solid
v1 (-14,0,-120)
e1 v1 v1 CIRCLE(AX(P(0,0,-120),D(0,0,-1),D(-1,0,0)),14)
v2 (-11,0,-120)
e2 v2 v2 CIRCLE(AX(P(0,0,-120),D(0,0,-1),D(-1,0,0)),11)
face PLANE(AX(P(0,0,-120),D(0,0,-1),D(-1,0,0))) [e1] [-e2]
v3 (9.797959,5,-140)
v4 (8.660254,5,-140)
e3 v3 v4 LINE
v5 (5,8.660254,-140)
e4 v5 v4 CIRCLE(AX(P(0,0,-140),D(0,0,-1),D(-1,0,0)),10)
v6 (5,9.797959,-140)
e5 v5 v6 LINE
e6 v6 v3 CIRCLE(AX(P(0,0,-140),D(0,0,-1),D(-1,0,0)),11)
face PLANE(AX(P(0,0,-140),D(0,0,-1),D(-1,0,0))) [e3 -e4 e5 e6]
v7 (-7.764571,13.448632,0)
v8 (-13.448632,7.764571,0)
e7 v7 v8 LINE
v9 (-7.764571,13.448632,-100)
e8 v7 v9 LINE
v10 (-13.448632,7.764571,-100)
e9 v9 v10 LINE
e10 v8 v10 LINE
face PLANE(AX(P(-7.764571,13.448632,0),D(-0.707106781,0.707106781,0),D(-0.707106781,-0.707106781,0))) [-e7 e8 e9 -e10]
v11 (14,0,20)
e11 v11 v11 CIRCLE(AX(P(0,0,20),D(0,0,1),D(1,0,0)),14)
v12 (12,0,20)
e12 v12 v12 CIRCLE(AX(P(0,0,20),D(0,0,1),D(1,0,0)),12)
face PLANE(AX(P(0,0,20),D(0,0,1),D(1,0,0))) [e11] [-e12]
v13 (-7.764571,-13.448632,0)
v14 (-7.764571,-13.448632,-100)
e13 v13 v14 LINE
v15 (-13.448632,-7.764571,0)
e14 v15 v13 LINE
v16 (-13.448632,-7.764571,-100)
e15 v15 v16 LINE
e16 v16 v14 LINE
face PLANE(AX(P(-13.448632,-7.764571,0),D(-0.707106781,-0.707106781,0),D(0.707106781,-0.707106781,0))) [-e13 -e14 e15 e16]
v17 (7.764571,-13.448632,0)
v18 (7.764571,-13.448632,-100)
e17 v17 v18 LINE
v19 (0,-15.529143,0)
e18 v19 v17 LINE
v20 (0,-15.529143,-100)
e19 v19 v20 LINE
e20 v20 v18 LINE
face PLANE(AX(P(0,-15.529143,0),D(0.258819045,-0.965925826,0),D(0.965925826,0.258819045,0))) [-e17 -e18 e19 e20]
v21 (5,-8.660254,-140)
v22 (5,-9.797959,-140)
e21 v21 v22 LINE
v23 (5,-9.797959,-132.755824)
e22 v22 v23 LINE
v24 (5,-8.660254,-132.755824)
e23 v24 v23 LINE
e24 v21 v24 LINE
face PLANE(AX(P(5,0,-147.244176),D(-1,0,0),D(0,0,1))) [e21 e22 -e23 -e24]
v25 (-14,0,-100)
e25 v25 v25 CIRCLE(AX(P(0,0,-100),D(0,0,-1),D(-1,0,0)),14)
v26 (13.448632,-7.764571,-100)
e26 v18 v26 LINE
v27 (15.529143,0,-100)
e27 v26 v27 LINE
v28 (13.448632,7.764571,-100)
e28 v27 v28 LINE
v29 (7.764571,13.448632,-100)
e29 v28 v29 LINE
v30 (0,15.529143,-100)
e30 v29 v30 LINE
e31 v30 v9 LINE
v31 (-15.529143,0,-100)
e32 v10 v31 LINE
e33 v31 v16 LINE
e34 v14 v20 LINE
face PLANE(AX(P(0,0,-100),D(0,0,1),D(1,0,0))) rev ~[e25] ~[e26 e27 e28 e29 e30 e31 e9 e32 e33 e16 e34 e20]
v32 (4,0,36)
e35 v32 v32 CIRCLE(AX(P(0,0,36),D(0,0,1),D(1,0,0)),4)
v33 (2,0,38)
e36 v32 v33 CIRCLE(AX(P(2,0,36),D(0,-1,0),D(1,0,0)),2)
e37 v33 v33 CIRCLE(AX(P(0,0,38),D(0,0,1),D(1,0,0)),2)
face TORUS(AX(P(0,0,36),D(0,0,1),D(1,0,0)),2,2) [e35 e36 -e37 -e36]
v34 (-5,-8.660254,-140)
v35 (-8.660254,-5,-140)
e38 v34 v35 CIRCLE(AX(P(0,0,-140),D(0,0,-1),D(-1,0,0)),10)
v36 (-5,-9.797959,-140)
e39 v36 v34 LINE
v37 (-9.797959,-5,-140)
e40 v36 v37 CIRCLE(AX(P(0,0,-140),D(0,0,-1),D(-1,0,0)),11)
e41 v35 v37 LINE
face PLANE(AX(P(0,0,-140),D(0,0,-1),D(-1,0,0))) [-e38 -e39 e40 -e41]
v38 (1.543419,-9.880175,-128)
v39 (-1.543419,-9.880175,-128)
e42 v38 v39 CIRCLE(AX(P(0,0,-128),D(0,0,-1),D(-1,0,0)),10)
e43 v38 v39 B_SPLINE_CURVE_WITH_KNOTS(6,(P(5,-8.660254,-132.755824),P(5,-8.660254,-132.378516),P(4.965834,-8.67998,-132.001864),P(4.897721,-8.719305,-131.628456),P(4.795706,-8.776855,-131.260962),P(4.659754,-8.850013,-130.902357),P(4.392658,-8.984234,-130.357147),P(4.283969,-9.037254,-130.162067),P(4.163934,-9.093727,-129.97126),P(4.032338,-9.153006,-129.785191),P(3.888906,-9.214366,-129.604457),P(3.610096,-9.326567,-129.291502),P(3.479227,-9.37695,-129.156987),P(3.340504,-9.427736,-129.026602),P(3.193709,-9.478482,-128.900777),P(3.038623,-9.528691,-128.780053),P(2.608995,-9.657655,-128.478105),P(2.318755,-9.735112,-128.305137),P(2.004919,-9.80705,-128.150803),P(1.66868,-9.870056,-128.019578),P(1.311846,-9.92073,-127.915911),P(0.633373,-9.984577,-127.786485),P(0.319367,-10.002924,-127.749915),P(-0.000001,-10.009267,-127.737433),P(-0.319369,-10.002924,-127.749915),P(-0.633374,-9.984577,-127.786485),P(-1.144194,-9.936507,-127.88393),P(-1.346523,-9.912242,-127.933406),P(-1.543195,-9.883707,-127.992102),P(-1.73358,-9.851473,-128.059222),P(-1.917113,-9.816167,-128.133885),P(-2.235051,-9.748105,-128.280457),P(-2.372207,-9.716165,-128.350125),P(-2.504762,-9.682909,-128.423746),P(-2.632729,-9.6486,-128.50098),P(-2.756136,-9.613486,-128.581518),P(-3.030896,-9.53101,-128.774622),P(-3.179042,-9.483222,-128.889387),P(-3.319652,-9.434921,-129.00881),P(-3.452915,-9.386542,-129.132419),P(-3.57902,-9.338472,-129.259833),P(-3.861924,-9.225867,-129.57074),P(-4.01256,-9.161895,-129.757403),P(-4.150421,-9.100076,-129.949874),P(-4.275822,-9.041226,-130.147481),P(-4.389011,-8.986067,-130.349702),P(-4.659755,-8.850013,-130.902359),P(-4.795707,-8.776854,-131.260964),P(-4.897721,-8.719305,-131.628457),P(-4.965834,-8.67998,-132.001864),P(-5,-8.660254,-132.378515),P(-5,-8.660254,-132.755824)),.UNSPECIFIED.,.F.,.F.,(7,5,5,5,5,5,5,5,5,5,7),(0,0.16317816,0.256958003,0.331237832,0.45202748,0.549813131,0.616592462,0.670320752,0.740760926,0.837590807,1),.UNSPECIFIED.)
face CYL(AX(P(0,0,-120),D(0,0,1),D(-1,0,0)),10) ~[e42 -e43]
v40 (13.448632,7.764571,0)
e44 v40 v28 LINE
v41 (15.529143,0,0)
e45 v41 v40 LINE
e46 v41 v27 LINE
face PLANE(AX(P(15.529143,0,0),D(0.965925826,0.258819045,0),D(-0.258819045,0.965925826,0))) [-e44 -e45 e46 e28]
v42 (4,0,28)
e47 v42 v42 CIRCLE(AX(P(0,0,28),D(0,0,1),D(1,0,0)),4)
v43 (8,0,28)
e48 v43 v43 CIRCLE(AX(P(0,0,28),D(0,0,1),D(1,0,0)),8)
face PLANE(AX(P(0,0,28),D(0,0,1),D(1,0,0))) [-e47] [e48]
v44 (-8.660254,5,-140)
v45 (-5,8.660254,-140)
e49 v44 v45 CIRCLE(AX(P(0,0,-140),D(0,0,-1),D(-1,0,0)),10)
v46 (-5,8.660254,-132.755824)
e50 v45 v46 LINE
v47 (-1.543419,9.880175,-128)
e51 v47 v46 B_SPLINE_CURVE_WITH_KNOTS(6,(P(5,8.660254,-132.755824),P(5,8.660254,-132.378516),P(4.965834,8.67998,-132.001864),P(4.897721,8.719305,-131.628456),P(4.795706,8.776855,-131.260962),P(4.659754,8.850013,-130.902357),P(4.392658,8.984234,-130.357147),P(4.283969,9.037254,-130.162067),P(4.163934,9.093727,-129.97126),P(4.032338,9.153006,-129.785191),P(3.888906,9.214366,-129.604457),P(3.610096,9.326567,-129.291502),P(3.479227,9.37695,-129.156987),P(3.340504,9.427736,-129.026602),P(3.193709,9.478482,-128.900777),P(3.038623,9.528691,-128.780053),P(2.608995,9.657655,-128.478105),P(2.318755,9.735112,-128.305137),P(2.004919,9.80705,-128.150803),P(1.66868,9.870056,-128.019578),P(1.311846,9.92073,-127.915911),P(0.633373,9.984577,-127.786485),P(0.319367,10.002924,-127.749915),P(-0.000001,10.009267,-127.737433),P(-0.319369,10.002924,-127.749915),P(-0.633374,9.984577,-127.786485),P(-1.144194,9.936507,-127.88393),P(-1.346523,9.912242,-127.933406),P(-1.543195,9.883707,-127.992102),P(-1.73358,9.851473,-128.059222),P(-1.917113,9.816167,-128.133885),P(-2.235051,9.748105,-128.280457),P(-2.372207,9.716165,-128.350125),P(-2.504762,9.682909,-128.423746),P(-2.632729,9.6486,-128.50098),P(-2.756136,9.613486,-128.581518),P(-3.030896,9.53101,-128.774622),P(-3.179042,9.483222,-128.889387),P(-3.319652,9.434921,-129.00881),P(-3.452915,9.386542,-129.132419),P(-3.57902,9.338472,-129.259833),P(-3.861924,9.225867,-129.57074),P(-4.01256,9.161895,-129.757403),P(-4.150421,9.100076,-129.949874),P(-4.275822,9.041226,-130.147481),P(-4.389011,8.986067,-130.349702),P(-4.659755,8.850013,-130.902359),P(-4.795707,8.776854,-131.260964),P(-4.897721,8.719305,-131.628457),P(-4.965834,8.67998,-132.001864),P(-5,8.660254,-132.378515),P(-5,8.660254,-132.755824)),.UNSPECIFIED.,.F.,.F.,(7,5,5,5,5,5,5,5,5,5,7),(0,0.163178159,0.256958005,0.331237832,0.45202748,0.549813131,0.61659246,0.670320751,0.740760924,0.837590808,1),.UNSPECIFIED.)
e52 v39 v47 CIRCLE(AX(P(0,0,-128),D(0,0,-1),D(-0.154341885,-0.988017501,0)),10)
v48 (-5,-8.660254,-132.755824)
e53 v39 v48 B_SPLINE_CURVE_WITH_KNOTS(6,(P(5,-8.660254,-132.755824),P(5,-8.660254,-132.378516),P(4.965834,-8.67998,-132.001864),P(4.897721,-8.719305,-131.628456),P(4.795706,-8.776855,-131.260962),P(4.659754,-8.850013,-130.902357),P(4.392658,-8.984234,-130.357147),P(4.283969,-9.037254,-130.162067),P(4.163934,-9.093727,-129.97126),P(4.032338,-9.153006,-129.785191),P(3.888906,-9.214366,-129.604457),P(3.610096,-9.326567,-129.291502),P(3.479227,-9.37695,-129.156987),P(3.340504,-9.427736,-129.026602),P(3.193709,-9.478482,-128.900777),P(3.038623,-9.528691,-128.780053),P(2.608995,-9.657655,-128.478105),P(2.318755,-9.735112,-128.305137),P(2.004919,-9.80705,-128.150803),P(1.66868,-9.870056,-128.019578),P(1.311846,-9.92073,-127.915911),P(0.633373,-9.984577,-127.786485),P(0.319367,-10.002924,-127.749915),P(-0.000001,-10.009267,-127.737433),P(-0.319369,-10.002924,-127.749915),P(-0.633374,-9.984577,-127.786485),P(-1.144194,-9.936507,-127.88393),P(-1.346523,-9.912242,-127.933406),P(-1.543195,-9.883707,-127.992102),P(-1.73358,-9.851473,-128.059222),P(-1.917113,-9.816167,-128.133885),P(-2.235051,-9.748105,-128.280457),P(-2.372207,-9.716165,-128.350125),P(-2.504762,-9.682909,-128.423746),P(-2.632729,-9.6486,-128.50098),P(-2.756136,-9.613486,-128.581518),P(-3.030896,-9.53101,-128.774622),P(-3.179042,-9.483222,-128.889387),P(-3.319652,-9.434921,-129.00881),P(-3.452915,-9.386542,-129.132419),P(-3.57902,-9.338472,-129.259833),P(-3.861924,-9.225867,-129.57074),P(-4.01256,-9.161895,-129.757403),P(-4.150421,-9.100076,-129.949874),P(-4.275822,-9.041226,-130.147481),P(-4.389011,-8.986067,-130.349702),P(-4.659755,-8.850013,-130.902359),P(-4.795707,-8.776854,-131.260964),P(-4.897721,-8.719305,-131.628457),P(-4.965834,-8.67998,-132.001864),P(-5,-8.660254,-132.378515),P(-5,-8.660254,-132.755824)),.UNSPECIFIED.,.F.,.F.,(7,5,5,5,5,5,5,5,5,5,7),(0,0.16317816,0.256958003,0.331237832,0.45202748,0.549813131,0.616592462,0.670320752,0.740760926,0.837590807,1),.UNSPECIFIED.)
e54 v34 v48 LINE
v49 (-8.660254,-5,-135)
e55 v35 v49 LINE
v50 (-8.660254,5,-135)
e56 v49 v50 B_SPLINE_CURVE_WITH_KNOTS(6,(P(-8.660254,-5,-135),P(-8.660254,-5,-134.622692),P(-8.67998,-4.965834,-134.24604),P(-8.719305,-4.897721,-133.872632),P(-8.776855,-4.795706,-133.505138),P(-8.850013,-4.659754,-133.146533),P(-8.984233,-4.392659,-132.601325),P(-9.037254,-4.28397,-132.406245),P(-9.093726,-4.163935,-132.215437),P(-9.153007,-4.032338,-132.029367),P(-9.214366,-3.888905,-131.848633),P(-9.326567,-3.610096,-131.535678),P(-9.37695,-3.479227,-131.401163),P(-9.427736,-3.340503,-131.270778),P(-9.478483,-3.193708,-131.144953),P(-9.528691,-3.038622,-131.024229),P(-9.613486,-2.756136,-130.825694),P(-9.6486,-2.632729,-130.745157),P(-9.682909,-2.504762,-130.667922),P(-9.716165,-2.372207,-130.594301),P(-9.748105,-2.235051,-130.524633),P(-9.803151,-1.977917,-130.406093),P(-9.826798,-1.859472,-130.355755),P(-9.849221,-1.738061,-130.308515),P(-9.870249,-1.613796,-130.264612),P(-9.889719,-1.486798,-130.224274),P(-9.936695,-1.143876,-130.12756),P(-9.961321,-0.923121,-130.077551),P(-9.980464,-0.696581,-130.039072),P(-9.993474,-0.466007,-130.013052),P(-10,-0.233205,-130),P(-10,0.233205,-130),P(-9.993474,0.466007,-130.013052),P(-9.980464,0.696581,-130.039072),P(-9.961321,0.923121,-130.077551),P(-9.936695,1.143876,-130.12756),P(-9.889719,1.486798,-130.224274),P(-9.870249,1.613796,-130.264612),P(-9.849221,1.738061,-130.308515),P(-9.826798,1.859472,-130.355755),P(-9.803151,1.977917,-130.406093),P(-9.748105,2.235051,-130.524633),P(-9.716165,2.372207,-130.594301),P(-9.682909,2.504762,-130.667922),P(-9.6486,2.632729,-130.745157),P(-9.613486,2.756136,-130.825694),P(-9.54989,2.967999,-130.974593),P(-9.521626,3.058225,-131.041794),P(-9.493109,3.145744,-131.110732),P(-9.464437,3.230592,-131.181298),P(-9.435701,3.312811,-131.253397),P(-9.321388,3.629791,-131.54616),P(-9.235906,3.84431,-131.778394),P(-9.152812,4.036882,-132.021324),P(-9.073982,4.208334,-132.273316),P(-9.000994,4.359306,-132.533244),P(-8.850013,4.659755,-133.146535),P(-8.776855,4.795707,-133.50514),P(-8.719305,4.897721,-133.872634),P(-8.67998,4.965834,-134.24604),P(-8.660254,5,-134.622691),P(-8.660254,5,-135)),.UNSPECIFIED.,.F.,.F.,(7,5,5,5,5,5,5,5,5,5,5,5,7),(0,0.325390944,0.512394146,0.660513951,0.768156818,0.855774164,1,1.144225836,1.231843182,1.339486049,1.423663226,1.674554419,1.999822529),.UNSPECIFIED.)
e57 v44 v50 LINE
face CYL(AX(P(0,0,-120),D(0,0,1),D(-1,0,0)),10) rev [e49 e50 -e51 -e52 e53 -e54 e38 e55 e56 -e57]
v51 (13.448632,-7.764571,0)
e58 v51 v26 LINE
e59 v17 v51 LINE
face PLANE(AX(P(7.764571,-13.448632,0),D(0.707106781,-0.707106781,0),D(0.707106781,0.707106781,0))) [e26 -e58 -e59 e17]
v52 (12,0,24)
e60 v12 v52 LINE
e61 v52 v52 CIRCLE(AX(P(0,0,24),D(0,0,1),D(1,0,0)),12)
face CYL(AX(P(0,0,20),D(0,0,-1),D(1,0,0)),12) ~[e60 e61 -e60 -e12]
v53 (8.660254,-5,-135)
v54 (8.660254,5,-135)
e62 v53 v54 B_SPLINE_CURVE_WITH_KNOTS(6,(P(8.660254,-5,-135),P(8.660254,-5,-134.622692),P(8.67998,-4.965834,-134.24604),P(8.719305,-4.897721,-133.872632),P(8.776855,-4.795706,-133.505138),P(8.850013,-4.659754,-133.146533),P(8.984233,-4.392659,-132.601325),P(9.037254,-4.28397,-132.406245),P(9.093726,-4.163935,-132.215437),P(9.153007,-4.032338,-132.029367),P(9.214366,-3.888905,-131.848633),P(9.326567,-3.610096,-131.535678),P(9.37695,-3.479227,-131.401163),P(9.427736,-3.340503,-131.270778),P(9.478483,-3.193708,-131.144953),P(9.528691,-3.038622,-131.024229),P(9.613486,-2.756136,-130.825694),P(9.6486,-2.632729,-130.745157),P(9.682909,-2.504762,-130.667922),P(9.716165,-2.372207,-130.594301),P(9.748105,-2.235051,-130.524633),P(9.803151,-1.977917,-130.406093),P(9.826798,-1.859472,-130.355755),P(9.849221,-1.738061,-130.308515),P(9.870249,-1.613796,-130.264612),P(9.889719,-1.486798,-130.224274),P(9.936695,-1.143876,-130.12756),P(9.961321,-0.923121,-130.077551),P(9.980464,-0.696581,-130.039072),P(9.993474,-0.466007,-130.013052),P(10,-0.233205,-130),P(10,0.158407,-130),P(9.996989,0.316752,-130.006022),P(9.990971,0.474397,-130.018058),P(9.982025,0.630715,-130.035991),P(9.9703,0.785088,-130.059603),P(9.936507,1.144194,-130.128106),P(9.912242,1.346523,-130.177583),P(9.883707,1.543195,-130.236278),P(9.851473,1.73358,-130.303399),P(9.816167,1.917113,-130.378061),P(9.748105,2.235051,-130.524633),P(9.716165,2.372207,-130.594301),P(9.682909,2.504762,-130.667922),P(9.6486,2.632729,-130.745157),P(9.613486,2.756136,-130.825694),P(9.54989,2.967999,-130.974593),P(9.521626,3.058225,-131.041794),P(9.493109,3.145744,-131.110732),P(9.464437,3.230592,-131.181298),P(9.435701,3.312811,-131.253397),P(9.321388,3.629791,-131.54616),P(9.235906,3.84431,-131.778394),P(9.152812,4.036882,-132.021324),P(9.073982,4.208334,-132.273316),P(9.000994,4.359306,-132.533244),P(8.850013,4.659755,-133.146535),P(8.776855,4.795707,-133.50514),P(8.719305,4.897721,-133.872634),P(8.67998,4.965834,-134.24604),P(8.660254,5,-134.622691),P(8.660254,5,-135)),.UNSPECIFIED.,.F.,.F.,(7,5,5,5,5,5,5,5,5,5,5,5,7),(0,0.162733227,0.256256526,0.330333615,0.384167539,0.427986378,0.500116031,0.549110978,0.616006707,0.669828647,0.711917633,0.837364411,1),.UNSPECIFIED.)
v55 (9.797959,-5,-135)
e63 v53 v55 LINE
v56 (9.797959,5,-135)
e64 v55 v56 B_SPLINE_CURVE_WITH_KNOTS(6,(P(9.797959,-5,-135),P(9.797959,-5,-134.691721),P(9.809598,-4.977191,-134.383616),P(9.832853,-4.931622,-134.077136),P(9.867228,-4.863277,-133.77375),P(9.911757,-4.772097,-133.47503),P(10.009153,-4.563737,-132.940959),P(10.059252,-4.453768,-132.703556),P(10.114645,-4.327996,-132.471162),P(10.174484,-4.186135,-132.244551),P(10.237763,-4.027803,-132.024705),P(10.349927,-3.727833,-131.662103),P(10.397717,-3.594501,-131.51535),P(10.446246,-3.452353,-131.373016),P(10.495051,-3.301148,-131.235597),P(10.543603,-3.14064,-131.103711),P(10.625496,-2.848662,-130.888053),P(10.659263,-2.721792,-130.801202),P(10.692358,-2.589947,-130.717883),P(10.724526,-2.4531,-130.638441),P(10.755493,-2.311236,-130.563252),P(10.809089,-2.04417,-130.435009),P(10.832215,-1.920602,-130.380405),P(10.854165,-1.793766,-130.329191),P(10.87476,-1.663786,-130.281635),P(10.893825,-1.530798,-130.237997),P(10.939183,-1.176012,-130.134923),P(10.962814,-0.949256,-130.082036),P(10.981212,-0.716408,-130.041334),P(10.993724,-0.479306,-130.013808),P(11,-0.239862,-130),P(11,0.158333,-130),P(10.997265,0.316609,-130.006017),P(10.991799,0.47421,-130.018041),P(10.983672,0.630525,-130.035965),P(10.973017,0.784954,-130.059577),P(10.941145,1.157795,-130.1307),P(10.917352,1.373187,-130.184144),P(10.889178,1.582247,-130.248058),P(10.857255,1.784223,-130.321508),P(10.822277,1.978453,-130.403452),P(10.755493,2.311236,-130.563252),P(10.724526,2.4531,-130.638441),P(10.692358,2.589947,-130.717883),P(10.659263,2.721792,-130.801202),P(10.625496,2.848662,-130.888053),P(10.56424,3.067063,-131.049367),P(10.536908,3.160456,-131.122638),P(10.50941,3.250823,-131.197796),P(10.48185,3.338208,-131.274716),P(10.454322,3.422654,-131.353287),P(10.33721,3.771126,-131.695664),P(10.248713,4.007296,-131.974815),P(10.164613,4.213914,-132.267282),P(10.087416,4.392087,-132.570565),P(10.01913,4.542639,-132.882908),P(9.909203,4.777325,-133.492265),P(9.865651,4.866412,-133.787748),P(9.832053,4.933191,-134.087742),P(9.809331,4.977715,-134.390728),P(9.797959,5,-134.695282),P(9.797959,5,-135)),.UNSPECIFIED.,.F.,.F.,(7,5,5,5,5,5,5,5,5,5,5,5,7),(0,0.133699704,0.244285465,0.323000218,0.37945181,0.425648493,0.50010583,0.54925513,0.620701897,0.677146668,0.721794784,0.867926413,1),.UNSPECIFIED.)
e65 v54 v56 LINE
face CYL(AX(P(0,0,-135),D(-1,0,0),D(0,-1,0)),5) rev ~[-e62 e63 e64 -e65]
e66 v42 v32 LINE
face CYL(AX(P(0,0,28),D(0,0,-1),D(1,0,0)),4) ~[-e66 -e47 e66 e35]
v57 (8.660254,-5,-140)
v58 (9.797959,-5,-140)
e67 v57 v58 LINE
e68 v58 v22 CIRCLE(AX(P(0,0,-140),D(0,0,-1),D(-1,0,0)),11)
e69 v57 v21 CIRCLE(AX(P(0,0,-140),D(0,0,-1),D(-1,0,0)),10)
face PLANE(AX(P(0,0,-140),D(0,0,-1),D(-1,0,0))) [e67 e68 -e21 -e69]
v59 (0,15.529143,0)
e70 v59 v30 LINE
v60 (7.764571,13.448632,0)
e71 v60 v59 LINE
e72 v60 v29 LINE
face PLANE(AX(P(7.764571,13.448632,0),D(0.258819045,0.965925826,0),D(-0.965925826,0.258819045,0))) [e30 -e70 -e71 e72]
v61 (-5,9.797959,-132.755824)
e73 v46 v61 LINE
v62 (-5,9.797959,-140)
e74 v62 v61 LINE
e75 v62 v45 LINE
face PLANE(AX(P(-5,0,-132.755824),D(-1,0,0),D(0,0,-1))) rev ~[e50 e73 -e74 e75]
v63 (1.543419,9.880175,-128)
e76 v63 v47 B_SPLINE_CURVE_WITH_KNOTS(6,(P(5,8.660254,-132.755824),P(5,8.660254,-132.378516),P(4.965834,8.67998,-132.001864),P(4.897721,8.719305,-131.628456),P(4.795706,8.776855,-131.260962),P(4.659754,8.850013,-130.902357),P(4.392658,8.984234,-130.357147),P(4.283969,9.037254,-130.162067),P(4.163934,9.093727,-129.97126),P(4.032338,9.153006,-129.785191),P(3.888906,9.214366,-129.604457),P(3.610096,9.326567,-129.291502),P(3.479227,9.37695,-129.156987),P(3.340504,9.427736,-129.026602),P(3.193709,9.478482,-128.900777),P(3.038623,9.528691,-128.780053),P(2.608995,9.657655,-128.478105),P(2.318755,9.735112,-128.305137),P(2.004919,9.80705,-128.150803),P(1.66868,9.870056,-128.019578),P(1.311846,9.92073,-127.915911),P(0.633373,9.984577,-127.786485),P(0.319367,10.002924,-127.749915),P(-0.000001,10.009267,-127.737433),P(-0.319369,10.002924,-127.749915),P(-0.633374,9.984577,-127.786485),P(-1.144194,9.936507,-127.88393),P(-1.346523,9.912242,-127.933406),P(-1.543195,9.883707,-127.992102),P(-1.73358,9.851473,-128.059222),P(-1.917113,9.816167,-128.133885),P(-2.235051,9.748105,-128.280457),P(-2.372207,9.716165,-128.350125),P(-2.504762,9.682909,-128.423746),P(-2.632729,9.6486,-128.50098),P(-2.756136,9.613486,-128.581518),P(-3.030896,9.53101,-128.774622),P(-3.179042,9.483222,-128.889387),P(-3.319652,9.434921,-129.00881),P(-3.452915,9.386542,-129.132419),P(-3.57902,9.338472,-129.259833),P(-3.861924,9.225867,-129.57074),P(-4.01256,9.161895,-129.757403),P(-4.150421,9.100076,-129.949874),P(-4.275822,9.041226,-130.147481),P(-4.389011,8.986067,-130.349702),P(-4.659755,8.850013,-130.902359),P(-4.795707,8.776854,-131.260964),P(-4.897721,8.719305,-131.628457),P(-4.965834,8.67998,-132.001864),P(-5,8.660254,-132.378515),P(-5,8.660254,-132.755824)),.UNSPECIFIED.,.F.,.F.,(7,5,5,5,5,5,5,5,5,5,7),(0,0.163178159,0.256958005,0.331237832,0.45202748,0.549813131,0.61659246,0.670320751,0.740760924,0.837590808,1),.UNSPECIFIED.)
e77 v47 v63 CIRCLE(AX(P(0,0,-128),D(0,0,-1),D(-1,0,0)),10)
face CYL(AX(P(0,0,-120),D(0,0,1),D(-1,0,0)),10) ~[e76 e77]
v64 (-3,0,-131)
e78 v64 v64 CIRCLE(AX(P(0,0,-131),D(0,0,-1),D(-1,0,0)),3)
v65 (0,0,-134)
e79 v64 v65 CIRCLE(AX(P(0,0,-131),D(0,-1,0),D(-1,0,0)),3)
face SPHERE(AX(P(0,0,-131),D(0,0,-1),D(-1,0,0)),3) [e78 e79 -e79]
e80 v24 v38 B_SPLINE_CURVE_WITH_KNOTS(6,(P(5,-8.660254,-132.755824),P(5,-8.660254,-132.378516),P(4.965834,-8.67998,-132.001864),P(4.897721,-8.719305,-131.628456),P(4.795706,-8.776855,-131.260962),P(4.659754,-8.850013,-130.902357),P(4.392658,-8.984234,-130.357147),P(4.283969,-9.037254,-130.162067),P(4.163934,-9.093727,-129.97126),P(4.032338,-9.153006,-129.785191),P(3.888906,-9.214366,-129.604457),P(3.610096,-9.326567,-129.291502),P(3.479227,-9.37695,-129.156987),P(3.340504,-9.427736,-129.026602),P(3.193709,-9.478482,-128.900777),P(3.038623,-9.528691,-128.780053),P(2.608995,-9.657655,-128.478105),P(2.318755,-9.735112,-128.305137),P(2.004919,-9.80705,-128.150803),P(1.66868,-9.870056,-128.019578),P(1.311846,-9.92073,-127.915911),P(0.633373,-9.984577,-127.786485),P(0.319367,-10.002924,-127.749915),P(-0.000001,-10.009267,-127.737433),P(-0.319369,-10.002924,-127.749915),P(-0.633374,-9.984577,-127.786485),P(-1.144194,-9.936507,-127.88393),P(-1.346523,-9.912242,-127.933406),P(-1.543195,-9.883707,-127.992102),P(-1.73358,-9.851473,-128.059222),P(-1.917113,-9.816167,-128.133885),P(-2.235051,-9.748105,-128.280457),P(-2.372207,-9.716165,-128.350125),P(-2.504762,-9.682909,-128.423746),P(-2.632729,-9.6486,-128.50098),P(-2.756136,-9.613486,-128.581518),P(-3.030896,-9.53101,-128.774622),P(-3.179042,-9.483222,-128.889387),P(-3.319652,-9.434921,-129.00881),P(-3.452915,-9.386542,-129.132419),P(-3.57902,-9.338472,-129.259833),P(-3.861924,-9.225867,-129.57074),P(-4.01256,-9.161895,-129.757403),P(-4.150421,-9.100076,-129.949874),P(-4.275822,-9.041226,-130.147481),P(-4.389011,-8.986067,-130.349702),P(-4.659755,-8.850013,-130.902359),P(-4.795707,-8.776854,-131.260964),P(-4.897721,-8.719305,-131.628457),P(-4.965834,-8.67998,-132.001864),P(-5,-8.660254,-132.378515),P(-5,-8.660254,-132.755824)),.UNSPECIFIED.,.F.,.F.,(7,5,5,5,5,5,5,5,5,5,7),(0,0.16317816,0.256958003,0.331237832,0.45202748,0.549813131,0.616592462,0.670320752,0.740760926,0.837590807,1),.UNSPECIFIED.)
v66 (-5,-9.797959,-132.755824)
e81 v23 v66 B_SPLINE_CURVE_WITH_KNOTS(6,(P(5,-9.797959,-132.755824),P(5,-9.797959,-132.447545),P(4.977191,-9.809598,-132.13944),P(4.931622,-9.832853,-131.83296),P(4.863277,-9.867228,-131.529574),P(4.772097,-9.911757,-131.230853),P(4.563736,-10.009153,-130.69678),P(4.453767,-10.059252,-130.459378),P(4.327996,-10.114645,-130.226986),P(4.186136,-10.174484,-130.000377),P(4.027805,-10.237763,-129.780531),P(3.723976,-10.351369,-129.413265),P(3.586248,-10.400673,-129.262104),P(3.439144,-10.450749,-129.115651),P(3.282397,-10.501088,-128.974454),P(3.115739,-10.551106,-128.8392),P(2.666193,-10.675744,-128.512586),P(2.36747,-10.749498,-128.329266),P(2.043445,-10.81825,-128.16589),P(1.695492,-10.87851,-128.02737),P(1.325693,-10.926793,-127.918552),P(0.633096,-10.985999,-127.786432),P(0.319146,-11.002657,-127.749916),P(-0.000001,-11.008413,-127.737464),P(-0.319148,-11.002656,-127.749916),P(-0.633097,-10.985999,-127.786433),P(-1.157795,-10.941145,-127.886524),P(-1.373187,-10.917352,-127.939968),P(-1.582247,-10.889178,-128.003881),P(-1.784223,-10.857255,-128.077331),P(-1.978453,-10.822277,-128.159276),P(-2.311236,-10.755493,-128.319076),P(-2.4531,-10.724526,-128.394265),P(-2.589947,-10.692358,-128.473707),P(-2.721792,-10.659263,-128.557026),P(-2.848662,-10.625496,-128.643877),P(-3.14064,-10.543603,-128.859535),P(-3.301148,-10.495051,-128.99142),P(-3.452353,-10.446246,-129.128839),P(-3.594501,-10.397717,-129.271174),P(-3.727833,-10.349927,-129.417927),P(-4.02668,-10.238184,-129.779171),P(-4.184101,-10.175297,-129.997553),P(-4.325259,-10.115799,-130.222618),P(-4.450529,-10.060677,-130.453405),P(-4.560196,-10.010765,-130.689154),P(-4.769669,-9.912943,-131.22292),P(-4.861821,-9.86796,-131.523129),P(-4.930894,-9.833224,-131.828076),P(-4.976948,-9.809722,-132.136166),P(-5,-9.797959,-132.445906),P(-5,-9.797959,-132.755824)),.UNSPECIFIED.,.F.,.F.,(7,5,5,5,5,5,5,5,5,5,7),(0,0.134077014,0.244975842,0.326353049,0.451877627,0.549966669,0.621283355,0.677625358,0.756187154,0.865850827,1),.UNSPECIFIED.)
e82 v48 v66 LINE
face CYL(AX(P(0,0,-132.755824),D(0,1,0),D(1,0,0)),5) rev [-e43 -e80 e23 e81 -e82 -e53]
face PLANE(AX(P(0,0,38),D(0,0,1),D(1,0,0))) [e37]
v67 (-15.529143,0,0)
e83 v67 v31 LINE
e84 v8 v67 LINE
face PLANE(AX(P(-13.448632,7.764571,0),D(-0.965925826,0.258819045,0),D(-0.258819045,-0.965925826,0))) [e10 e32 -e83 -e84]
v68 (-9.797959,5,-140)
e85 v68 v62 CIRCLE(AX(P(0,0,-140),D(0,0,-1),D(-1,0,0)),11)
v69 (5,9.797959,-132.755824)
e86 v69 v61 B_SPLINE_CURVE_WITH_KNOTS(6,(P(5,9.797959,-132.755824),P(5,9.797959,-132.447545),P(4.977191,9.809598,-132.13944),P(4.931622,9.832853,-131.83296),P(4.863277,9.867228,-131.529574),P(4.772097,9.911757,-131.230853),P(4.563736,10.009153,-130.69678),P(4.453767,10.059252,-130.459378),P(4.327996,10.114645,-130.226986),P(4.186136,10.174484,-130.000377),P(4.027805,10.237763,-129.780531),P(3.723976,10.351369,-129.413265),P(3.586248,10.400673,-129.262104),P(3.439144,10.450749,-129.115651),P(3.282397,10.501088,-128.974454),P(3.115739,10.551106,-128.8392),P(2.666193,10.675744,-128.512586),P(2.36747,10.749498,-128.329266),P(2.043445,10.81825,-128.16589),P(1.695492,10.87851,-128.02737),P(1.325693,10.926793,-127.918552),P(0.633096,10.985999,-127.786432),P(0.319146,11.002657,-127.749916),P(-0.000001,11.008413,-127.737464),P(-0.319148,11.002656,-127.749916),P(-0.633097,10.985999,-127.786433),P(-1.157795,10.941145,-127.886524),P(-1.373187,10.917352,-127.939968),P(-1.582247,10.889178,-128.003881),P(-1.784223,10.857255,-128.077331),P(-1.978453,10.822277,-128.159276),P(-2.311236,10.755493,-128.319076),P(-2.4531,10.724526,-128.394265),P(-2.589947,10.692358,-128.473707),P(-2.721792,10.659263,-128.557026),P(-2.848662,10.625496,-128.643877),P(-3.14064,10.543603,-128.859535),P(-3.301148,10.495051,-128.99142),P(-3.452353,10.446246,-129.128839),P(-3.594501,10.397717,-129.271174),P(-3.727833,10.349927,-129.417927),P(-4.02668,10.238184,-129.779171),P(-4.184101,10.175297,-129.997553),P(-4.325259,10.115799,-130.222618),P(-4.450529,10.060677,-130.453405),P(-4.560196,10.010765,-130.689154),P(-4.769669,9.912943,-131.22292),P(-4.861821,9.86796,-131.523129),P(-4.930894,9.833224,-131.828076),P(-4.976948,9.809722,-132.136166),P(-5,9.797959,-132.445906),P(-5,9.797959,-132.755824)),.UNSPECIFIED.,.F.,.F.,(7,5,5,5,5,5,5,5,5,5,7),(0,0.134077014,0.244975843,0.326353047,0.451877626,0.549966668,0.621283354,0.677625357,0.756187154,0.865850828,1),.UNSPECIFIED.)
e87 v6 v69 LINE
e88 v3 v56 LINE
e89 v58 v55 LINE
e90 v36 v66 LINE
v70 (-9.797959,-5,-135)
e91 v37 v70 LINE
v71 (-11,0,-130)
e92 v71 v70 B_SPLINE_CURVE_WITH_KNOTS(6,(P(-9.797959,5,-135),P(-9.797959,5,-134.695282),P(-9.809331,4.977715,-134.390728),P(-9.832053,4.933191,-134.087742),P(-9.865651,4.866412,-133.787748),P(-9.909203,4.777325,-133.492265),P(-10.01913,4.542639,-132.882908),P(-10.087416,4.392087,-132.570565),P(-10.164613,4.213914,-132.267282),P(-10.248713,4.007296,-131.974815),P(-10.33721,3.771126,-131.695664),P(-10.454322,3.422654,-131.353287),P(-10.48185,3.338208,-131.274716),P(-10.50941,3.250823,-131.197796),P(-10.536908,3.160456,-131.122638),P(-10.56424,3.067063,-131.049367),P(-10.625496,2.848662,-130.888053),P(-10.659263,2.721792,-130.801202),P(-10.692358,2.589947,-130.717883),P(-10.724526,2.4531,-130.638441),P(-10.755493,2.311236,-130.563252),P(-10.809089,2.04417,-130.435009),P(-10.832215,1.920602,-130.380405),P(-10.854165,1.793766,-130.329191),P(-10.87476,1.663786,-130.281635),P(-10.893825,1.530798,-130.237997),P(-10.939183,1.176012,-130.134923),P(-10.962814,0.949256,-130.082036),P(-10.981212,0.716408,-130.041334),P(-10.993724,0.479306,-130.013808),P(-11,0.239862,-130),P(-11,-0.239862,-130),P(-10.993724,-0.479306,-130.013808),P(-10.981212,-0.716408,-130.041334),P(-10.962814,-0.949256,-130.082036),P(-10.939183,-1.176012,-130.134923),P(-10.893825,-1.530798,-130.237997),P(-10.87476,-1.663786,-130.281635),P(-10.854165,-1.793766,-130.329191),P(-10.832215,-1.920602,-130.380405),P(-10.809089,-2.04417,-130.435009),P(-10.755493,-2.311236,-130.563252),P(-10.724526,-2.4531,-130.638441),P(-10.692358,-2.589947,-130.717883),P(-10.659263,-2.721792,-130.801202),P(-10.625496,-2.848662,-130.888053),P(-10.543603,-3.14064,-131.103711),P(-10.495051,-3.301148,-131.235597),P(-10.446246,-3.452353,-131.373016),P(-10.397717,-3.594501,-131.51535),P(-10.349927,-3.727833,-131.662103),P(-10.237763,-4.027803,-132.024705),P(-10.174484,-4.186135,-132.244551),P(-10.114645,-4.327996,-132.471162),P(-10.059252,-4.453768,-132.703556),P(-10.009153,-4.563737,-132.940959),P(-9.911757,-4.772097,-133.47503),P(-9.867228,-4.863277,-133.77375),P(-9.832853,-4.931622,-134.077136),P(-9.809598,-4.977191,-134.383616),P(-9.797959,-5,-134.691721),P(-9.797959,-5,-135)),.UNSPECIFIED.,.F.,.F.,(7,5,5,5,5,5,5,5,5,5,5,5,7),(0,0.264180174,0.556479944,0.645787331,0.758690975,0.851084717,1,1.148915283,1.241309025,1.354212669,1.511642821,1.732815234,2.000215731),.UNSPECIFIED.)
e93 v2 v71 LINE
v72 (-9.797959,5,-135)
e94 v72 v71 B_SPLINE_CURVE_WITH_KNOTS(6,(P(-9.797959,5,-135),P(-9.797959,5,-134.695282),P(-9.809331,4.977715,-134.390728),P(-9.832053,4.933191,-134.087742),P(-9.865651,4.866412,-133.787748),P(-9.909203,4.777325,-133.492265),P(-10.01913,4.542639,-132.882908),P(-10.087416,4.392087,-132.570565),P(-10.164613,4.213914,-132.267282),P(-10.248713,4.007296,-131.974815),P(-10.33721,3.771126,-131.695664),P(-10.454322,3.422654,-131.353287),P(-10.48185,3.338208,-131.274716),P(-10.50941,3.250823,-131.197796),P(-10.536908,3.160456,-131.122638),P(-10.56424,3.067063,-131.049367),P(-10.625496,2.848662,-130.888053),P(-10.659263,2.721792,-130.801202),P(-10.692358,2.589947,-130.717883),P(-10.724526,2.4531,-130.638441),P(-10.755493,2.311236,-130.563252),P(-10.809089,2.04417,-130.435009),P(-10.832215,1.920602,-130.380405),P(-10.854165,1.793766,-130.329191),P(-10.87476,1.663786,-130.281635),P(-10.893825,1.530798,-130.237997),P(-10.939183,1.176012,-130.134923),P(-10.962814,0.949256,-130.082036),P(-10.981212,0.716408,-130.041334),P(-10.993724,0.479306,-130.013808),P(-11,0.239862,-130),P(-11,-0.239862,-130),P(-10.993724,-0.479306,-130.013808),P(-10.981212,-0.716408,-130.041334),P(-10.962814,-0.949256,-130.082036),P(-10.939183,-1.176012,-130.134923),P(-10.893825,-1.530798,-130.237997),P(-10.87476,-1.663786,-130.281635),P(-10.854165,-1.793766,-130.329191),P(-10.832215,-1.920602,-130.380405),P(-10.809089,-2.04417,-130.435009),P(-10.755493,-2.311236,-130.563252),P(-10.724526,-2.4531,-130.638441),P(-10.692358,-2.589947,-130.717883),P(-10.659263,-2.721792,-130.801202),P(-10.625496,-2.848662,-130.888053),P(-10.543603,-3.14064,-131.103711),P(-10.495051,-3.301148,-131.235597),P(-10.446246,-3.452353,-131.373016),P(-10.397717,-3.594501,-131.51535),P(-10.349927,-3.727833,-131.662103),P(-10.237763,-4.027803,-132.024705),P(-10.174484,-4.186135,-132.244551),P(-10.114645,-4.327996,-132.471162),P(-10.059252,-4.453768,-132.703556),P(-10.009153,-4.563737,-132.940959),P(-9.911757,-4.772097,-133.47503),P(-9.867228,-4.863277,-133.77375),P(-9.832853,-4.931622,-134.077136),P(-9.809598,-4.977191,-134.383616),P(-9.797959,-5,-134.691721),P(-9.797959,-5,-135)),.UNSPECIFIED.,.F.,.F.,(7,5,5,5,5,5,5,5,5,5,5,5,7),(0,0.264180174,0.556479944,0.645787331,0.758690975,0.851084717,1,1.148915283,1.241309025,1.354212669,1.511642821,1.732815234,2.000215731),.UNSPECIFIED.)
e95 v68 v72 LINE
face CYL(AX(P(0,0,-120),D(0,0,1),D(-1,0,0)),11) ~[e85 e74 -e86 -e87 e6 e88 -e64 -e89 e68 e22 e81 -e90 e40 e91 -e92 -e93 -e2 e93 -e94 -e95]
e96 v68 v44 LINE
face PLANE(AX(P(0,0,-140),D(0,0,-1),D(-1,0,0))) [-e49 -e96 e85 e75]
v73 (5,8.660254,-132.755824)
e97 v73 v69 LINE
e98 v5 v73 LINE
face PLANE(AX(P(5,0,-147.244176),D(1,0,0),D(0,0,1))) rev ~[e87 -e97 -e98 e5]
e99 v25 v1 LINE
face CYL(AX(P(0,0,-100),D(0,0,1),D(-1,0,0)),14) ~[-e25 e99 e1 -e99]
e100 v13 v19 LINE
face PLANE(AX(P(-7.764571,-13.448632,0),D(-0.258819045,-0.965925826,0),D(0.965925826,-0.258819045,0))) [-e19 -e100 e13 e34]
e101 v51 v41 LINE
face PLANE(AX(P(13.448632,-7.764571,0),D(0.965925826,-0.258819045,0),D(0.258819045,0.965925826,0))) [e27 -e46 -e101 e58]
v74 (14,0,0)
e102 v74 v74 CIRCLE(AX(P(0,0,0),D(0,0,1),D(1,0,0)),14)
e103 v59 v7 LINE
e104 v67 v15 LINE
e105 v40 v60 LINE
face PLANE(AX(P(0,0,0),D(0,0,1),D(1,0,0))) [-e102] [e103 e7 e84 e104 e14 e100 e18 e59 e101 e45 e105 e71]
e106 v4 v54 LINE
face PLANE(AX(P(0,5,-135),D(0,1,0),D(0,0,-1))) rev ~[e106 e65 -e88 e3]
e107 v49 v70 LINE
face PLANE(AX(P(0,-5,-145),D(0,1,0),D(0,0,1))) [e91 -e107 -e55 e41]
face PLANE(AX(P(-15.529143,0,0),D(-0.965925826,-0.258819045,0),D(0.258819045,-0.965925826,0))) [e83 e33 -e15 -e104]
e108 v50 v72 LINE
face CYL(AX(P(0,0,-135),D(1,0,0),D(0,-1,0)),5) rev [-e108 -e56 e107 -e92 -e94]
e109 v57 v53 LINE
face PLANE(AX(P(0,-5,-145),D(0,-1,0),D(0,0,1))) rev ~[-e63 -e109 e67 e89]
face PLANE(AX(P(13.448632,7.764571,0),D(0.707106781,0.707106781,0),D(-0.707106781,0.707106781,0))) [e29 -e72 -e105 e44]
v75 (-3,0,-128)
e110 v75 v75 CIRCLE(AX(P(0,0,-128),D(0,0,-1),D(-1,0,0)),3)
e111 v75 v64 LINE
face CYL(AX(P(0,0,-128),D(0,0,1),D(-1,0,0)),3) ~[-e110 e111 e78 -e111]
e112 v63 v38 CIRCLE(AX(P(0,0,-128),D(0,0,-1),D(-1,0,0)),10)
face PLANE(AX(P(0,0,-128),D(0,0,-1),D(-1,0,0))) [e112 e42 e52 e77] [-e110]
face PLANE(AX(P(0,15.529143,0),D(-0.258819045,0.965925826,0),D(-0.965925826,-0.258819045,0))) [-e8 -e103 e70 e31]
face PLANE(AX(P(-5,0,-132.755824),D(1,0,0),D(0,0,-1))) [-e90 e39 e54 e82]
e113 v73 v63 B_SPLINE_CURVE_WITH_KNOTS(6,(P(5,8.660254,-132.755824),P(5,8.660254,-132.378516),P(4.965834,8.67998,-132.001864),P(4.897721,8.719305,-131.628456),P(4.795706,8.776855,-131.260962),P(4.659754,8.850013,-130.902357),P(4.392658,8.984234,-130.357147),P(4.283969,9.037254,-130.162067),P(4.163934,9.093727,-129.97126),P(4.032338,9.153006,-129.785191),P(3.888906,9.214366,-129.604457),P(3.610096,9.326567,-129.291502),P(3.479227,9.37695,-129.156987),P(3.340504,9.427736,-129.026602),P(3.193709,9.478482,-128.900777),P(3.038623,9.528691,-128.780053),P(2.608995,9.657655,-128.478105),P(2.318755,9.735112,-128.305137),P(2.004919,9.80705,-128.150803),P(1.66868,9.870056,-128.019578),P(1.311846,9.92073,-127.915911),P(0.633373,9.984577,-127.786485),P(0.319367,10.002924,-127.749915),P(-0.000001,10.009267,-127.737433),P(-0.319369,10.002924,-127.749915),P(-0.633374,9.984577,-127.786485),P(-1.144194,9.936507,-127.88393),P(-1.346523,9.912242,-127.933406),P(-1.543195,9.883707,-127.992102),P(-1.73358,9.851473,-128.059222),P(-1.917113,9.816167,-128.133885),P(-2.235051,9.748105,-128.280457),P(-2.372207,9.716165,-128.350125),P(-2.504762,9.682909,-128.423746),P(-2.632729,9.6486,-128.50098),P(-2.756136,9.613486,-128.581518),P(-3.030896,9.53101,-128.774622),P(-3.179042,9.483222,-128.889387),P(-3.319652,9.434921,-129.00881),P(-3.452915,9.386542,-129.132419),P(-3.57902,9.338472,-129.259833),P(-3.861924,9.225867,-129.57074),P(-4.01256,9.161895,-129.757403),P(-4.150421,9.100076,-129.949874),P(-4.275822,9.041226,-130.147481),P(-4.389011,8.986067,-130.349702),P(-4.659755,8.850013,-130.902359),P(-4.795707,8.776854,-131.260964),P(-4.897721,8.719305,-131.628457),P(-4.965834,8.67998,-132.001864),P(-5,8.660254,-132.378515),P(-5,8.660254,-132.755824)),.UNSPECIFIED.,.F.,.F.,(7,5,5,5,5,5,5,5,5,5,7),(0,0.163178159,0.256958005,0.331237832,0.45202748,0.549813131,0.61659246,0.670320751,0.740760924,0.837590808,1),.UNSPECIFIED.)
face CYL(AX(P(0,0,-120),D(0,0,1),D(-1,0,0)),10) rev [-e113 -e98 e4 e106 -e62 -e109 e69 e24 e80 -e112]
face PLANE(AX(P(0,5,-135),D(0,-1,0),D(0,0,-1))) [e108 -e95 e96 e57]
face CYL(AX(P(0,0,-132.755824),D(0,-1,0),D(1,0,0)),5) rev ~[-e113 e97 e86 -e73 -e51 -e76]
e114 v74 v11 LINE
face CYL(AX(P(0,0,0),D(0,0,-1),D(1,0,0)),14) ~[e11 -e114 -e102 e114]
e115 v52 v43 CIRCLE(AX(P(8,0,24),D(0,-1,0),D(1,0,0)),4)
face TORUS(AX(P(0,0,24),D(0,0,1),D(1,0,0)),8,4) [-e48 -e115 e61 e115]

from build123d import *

# Parameters (mm, degrees)
BOSS_EXTRUDE1_DEPTH            = 100
SKETCH2_R                      = 14
BOSS_EXTRUDE2_DEPTH            = 20
SKETCH3_R                      = 12
BOSS_EXTRUDE3_DEPTH            = 8
FILLET1_R                      = 4
SKETCH4_R                      = 4
BOSS_EXTRUDE4_DEPTH            = 10
FILLET2_R                      = 2
SKETCH6_R                      = 14
BOSS_EXTRUDE6_DEPTH            = 20
SKETCH7_R                      = 11
SKETCH7_R_2                    = 10
BOSS_EXTRUDE7_DEPTH            = 20
CUT_EXTRUDE1_REACH             = 17.529
CUT_EXTRUDE1_DIRECTION_2_REACH = 17.529
CUT_EXTRUDE2_REACH             = 17.529
CUT_EXTRUDE2_DIRECTION_2_REACH = 17.529
SKETCH10_R                     = 10
BOSS_EXTRUDE8_DEPTH            = 8
SKETCH11_R                     = 3
BOSS_EXTRUDE9_DEPTH            = 6
FILLET3_R                      = 3


with BuildPart() as part:
    # Sketch1 → Boss-Extrude1 (new body)
    with BuildSketch(Plane.XY):
        Polygon((-15.529142706, 0), (-13.448632083, -7.764571353), (-7.764571353, -13.448632083), (0, -15.529142706), (7.764571353, -13.448632083), (13.448632083, -7.764571353), (15.529142706, 0), (13.448632083, 7.764571353), (7.764571353, 13.448632083), (0, 15.529142706), (-7.764571353, 13.448632083), (-13.448632083, 7.764571353), align=None)
    extrude(amount=-BOSS_EXTRUDE1_DEPTH)

    # Sketch2 → Boss-Extrude2 (add)
    with BuildSketch(Plane.XY):
        Circle(SKETCH2_R)
    extrude(amount=BOSS_EXTRUDE2_DEPTH)

    # Sketch3 → Boss-Extrude3 (add)
    with BuildSketch(Plane.XY.offset(20)):
        Circle(SKETCH3_R)
    extrude(amount=BOSS_EXTRUDE3_DEPTH)

    # Fillet1
    fillet1_edges = [part.edges().sort_by_distance(p)[0] for p in [
        (-12, 0, 28),
    ]]
    fillet(fillet1_edges, radius=FILLET1_R)

    # Sketch4 → Boss-Extrude4 (add)
    with BuildSketch(Plane.XY.offset(28)):
        Circle(SKETCH4_R)
    extrude(amount=BOSS_EXTRUDE4_DEPTH)

    # Fillet2
    fillet2_edges = [part.edges().sort_by_distance(p)[0] for p in [
        (-4, 0, 38),
    ]]
    fillet(fillet2_edges, radius=FILLET2_R)

    # Sketch6 → Boss-Extrude6 (add)
    with BuildSketch(Plane(origin=(0, 0, -100), x_dir=(-1, 0, 0), z_dir=(0, 0, -1))):
        Circle(SKETCH6_R)
    extrude(amount=BOSS_EXTRUDE6_DEPTH)

    # Sketch7 → Boss-Extrude7 (add)
    with BuildSketch(Plane(origin=(0, 0, -120), x_dir=(-1, 0, 0), z_dir=(0, 0, -1))):
        Circle(SKETCH7_R)
        Circle(SKETCH7_R_2, mode=Mode.SUBTRACT)
    extrude(amount=BOSS_EXTRUDE7_DEPTH)

    # Sketch8 → Cut-Extrude1 (cut, up to next)
    with BuildSketch(Plane(origin=(0, 0, 0), x_dir=(0, 0, -1), z_dir=(1, 0, 0)), mode=Mode.PRIVATE) as cut_extrude1_sk1:
        with BuildLine():
            Line((145, -5), (135, -5))
            ThreePointArc((135, -5), (130, 0), (135, 5))
            Line((135, 5), (145, 5))
            Line((145, 5), (145, -5))
        make_face()
    cut_extrude1_tool1 = extrude(cut_extrude1_sk1.sketch, amount=-CUT_EXTRUDE1_REACH, mode=Mode.PRIVATE) & part.part
    add(cut_extrude1_tool1.solids().sort_by_distance((0, 0, -137.991792))[0], mode=Mode.SUBTRACT)

    # Sketch8 → Cut-Extrude1 direction 2 (cut, up to next)
    with BuildSketch(Plane(origin=(0, 0, 0), x_dir=(0, 0, -1), z_dir=(1, 0, 0)), mode=Mode.PRIVATE) as cut_extrude1_direction_2_sk1:
        with BuildLine():
            Line((145, -5), (135, -5))
            ThreePointArc((135, -5), (130, 0), (135, 5))
            Line((135, 5), (145, 5))
            Line((145, 5), (145, -5))
        make_face()
    cut_extrude1_direction_2_tool1 = extrude(cut_extrude1_direction_2_sk1.sketch, amount=CUT_EXTRUDE1_DIRECTION_2_REACH, mode=Mode.PRIVATE) & part.part
    add(cut_extrude1_direction_2_tool1.solids().sort_by_distance((0, 0, -137.991792))[0], mode=Mode.SUBTRACT)

    # Sketch9 → Cut-Extrude2 (cut, up to next)
    with BuildSketch(Plane(origin=(0, 0, 0), x_dir=(1, 0, 0), z_dir=(0, 1, 0)), mode=Mode.PRIVATE) as cut_extrude2_sk1:
        with BuildLine():
            Line((-5, 132.755823636), (-5, 147.244176364))
            Line((-5, 147.244176364), (5, 147.244176364))
            Line((5, 147.244176364), (5, 132.755823636))
            ThreePointArc((5, 132.755823636), (0, 127.755823636), (-5, 132.755823636))
        make_face()
    cut_extrude2_tool1 = extrude(cut_extrude2_sk1.sketch, amount=-CUT_EXTRUDE2_REACH, mode=Mode.PRIVATE) & part.part
    add(cut_extrude2_tool1.solids().sort_by_distance((0, 0, -138.00269))[0], mode=Mode.SUBTRACT)

    # Sketch9 → Cut-Extrude2 direction 2 (cut, up to next)
    with BuildSketch(Plane(origin=(0, 0, 0), x_dir=(1, 0, 0), z_dir=(0, 1, 0)), mode=Mode.PRIVATE) as cut_extrude2_direction_2_sk1:
        with BuildLine():
            Line((-5, 132.755823636), (-5, 147.244176364))
            Line((-5, 147.244176364), (5, 147.244176364))
            Line((5, 147.244176364), (5, 132.755823636))
            ThreePointArc((5, 132.755823636), (0, 127.755823636), (-5, 132.755823636))
        make_face()
    cut_extrude2_direction_2_tool1 = extrude(cut_extrude2_direction_2_sk1.sketch, amount=CUT_EXTRUDE2_DIRECTION_2_REACH, mode=Mode.PRIVATE) & part.part
    add(cut_extrude2_direction_2_tool1.solids().sort_by_distance((0, 0, -138.00269))[0], mode=Mode.SUBTRACT)

    # Sketch10 → Boss-Extrude8 (add)
    with BuildSketch(Plane(origin=(0, 0, -120), x_dir=(-1, 0, 0), z_dir=(0, 0, -1))):
        Circle(SKETCH10_R)
    extrude(amount=BOSS_EXTRUDE8_DEPTH)

    # Sketch11 → Boss-Extrude9 (add)
    with BuildSketch(Plane(origin=(0, 0, -128), x_dir=(-1, 0, 0), z_dir=(0, 0, -1))):
        Circle(SKETCH11_R)
    extrude(amount=BOSS_EXTRUDE9_DEPTH)

    # Fillet3
    fillet3_edges = [part.edges().sort_by_distance(p)[0] for p in [
        (3, 0, -134),
    ]]
    fillet(fillet3_edges, radius=FILLET3_R)


solid = part.part
